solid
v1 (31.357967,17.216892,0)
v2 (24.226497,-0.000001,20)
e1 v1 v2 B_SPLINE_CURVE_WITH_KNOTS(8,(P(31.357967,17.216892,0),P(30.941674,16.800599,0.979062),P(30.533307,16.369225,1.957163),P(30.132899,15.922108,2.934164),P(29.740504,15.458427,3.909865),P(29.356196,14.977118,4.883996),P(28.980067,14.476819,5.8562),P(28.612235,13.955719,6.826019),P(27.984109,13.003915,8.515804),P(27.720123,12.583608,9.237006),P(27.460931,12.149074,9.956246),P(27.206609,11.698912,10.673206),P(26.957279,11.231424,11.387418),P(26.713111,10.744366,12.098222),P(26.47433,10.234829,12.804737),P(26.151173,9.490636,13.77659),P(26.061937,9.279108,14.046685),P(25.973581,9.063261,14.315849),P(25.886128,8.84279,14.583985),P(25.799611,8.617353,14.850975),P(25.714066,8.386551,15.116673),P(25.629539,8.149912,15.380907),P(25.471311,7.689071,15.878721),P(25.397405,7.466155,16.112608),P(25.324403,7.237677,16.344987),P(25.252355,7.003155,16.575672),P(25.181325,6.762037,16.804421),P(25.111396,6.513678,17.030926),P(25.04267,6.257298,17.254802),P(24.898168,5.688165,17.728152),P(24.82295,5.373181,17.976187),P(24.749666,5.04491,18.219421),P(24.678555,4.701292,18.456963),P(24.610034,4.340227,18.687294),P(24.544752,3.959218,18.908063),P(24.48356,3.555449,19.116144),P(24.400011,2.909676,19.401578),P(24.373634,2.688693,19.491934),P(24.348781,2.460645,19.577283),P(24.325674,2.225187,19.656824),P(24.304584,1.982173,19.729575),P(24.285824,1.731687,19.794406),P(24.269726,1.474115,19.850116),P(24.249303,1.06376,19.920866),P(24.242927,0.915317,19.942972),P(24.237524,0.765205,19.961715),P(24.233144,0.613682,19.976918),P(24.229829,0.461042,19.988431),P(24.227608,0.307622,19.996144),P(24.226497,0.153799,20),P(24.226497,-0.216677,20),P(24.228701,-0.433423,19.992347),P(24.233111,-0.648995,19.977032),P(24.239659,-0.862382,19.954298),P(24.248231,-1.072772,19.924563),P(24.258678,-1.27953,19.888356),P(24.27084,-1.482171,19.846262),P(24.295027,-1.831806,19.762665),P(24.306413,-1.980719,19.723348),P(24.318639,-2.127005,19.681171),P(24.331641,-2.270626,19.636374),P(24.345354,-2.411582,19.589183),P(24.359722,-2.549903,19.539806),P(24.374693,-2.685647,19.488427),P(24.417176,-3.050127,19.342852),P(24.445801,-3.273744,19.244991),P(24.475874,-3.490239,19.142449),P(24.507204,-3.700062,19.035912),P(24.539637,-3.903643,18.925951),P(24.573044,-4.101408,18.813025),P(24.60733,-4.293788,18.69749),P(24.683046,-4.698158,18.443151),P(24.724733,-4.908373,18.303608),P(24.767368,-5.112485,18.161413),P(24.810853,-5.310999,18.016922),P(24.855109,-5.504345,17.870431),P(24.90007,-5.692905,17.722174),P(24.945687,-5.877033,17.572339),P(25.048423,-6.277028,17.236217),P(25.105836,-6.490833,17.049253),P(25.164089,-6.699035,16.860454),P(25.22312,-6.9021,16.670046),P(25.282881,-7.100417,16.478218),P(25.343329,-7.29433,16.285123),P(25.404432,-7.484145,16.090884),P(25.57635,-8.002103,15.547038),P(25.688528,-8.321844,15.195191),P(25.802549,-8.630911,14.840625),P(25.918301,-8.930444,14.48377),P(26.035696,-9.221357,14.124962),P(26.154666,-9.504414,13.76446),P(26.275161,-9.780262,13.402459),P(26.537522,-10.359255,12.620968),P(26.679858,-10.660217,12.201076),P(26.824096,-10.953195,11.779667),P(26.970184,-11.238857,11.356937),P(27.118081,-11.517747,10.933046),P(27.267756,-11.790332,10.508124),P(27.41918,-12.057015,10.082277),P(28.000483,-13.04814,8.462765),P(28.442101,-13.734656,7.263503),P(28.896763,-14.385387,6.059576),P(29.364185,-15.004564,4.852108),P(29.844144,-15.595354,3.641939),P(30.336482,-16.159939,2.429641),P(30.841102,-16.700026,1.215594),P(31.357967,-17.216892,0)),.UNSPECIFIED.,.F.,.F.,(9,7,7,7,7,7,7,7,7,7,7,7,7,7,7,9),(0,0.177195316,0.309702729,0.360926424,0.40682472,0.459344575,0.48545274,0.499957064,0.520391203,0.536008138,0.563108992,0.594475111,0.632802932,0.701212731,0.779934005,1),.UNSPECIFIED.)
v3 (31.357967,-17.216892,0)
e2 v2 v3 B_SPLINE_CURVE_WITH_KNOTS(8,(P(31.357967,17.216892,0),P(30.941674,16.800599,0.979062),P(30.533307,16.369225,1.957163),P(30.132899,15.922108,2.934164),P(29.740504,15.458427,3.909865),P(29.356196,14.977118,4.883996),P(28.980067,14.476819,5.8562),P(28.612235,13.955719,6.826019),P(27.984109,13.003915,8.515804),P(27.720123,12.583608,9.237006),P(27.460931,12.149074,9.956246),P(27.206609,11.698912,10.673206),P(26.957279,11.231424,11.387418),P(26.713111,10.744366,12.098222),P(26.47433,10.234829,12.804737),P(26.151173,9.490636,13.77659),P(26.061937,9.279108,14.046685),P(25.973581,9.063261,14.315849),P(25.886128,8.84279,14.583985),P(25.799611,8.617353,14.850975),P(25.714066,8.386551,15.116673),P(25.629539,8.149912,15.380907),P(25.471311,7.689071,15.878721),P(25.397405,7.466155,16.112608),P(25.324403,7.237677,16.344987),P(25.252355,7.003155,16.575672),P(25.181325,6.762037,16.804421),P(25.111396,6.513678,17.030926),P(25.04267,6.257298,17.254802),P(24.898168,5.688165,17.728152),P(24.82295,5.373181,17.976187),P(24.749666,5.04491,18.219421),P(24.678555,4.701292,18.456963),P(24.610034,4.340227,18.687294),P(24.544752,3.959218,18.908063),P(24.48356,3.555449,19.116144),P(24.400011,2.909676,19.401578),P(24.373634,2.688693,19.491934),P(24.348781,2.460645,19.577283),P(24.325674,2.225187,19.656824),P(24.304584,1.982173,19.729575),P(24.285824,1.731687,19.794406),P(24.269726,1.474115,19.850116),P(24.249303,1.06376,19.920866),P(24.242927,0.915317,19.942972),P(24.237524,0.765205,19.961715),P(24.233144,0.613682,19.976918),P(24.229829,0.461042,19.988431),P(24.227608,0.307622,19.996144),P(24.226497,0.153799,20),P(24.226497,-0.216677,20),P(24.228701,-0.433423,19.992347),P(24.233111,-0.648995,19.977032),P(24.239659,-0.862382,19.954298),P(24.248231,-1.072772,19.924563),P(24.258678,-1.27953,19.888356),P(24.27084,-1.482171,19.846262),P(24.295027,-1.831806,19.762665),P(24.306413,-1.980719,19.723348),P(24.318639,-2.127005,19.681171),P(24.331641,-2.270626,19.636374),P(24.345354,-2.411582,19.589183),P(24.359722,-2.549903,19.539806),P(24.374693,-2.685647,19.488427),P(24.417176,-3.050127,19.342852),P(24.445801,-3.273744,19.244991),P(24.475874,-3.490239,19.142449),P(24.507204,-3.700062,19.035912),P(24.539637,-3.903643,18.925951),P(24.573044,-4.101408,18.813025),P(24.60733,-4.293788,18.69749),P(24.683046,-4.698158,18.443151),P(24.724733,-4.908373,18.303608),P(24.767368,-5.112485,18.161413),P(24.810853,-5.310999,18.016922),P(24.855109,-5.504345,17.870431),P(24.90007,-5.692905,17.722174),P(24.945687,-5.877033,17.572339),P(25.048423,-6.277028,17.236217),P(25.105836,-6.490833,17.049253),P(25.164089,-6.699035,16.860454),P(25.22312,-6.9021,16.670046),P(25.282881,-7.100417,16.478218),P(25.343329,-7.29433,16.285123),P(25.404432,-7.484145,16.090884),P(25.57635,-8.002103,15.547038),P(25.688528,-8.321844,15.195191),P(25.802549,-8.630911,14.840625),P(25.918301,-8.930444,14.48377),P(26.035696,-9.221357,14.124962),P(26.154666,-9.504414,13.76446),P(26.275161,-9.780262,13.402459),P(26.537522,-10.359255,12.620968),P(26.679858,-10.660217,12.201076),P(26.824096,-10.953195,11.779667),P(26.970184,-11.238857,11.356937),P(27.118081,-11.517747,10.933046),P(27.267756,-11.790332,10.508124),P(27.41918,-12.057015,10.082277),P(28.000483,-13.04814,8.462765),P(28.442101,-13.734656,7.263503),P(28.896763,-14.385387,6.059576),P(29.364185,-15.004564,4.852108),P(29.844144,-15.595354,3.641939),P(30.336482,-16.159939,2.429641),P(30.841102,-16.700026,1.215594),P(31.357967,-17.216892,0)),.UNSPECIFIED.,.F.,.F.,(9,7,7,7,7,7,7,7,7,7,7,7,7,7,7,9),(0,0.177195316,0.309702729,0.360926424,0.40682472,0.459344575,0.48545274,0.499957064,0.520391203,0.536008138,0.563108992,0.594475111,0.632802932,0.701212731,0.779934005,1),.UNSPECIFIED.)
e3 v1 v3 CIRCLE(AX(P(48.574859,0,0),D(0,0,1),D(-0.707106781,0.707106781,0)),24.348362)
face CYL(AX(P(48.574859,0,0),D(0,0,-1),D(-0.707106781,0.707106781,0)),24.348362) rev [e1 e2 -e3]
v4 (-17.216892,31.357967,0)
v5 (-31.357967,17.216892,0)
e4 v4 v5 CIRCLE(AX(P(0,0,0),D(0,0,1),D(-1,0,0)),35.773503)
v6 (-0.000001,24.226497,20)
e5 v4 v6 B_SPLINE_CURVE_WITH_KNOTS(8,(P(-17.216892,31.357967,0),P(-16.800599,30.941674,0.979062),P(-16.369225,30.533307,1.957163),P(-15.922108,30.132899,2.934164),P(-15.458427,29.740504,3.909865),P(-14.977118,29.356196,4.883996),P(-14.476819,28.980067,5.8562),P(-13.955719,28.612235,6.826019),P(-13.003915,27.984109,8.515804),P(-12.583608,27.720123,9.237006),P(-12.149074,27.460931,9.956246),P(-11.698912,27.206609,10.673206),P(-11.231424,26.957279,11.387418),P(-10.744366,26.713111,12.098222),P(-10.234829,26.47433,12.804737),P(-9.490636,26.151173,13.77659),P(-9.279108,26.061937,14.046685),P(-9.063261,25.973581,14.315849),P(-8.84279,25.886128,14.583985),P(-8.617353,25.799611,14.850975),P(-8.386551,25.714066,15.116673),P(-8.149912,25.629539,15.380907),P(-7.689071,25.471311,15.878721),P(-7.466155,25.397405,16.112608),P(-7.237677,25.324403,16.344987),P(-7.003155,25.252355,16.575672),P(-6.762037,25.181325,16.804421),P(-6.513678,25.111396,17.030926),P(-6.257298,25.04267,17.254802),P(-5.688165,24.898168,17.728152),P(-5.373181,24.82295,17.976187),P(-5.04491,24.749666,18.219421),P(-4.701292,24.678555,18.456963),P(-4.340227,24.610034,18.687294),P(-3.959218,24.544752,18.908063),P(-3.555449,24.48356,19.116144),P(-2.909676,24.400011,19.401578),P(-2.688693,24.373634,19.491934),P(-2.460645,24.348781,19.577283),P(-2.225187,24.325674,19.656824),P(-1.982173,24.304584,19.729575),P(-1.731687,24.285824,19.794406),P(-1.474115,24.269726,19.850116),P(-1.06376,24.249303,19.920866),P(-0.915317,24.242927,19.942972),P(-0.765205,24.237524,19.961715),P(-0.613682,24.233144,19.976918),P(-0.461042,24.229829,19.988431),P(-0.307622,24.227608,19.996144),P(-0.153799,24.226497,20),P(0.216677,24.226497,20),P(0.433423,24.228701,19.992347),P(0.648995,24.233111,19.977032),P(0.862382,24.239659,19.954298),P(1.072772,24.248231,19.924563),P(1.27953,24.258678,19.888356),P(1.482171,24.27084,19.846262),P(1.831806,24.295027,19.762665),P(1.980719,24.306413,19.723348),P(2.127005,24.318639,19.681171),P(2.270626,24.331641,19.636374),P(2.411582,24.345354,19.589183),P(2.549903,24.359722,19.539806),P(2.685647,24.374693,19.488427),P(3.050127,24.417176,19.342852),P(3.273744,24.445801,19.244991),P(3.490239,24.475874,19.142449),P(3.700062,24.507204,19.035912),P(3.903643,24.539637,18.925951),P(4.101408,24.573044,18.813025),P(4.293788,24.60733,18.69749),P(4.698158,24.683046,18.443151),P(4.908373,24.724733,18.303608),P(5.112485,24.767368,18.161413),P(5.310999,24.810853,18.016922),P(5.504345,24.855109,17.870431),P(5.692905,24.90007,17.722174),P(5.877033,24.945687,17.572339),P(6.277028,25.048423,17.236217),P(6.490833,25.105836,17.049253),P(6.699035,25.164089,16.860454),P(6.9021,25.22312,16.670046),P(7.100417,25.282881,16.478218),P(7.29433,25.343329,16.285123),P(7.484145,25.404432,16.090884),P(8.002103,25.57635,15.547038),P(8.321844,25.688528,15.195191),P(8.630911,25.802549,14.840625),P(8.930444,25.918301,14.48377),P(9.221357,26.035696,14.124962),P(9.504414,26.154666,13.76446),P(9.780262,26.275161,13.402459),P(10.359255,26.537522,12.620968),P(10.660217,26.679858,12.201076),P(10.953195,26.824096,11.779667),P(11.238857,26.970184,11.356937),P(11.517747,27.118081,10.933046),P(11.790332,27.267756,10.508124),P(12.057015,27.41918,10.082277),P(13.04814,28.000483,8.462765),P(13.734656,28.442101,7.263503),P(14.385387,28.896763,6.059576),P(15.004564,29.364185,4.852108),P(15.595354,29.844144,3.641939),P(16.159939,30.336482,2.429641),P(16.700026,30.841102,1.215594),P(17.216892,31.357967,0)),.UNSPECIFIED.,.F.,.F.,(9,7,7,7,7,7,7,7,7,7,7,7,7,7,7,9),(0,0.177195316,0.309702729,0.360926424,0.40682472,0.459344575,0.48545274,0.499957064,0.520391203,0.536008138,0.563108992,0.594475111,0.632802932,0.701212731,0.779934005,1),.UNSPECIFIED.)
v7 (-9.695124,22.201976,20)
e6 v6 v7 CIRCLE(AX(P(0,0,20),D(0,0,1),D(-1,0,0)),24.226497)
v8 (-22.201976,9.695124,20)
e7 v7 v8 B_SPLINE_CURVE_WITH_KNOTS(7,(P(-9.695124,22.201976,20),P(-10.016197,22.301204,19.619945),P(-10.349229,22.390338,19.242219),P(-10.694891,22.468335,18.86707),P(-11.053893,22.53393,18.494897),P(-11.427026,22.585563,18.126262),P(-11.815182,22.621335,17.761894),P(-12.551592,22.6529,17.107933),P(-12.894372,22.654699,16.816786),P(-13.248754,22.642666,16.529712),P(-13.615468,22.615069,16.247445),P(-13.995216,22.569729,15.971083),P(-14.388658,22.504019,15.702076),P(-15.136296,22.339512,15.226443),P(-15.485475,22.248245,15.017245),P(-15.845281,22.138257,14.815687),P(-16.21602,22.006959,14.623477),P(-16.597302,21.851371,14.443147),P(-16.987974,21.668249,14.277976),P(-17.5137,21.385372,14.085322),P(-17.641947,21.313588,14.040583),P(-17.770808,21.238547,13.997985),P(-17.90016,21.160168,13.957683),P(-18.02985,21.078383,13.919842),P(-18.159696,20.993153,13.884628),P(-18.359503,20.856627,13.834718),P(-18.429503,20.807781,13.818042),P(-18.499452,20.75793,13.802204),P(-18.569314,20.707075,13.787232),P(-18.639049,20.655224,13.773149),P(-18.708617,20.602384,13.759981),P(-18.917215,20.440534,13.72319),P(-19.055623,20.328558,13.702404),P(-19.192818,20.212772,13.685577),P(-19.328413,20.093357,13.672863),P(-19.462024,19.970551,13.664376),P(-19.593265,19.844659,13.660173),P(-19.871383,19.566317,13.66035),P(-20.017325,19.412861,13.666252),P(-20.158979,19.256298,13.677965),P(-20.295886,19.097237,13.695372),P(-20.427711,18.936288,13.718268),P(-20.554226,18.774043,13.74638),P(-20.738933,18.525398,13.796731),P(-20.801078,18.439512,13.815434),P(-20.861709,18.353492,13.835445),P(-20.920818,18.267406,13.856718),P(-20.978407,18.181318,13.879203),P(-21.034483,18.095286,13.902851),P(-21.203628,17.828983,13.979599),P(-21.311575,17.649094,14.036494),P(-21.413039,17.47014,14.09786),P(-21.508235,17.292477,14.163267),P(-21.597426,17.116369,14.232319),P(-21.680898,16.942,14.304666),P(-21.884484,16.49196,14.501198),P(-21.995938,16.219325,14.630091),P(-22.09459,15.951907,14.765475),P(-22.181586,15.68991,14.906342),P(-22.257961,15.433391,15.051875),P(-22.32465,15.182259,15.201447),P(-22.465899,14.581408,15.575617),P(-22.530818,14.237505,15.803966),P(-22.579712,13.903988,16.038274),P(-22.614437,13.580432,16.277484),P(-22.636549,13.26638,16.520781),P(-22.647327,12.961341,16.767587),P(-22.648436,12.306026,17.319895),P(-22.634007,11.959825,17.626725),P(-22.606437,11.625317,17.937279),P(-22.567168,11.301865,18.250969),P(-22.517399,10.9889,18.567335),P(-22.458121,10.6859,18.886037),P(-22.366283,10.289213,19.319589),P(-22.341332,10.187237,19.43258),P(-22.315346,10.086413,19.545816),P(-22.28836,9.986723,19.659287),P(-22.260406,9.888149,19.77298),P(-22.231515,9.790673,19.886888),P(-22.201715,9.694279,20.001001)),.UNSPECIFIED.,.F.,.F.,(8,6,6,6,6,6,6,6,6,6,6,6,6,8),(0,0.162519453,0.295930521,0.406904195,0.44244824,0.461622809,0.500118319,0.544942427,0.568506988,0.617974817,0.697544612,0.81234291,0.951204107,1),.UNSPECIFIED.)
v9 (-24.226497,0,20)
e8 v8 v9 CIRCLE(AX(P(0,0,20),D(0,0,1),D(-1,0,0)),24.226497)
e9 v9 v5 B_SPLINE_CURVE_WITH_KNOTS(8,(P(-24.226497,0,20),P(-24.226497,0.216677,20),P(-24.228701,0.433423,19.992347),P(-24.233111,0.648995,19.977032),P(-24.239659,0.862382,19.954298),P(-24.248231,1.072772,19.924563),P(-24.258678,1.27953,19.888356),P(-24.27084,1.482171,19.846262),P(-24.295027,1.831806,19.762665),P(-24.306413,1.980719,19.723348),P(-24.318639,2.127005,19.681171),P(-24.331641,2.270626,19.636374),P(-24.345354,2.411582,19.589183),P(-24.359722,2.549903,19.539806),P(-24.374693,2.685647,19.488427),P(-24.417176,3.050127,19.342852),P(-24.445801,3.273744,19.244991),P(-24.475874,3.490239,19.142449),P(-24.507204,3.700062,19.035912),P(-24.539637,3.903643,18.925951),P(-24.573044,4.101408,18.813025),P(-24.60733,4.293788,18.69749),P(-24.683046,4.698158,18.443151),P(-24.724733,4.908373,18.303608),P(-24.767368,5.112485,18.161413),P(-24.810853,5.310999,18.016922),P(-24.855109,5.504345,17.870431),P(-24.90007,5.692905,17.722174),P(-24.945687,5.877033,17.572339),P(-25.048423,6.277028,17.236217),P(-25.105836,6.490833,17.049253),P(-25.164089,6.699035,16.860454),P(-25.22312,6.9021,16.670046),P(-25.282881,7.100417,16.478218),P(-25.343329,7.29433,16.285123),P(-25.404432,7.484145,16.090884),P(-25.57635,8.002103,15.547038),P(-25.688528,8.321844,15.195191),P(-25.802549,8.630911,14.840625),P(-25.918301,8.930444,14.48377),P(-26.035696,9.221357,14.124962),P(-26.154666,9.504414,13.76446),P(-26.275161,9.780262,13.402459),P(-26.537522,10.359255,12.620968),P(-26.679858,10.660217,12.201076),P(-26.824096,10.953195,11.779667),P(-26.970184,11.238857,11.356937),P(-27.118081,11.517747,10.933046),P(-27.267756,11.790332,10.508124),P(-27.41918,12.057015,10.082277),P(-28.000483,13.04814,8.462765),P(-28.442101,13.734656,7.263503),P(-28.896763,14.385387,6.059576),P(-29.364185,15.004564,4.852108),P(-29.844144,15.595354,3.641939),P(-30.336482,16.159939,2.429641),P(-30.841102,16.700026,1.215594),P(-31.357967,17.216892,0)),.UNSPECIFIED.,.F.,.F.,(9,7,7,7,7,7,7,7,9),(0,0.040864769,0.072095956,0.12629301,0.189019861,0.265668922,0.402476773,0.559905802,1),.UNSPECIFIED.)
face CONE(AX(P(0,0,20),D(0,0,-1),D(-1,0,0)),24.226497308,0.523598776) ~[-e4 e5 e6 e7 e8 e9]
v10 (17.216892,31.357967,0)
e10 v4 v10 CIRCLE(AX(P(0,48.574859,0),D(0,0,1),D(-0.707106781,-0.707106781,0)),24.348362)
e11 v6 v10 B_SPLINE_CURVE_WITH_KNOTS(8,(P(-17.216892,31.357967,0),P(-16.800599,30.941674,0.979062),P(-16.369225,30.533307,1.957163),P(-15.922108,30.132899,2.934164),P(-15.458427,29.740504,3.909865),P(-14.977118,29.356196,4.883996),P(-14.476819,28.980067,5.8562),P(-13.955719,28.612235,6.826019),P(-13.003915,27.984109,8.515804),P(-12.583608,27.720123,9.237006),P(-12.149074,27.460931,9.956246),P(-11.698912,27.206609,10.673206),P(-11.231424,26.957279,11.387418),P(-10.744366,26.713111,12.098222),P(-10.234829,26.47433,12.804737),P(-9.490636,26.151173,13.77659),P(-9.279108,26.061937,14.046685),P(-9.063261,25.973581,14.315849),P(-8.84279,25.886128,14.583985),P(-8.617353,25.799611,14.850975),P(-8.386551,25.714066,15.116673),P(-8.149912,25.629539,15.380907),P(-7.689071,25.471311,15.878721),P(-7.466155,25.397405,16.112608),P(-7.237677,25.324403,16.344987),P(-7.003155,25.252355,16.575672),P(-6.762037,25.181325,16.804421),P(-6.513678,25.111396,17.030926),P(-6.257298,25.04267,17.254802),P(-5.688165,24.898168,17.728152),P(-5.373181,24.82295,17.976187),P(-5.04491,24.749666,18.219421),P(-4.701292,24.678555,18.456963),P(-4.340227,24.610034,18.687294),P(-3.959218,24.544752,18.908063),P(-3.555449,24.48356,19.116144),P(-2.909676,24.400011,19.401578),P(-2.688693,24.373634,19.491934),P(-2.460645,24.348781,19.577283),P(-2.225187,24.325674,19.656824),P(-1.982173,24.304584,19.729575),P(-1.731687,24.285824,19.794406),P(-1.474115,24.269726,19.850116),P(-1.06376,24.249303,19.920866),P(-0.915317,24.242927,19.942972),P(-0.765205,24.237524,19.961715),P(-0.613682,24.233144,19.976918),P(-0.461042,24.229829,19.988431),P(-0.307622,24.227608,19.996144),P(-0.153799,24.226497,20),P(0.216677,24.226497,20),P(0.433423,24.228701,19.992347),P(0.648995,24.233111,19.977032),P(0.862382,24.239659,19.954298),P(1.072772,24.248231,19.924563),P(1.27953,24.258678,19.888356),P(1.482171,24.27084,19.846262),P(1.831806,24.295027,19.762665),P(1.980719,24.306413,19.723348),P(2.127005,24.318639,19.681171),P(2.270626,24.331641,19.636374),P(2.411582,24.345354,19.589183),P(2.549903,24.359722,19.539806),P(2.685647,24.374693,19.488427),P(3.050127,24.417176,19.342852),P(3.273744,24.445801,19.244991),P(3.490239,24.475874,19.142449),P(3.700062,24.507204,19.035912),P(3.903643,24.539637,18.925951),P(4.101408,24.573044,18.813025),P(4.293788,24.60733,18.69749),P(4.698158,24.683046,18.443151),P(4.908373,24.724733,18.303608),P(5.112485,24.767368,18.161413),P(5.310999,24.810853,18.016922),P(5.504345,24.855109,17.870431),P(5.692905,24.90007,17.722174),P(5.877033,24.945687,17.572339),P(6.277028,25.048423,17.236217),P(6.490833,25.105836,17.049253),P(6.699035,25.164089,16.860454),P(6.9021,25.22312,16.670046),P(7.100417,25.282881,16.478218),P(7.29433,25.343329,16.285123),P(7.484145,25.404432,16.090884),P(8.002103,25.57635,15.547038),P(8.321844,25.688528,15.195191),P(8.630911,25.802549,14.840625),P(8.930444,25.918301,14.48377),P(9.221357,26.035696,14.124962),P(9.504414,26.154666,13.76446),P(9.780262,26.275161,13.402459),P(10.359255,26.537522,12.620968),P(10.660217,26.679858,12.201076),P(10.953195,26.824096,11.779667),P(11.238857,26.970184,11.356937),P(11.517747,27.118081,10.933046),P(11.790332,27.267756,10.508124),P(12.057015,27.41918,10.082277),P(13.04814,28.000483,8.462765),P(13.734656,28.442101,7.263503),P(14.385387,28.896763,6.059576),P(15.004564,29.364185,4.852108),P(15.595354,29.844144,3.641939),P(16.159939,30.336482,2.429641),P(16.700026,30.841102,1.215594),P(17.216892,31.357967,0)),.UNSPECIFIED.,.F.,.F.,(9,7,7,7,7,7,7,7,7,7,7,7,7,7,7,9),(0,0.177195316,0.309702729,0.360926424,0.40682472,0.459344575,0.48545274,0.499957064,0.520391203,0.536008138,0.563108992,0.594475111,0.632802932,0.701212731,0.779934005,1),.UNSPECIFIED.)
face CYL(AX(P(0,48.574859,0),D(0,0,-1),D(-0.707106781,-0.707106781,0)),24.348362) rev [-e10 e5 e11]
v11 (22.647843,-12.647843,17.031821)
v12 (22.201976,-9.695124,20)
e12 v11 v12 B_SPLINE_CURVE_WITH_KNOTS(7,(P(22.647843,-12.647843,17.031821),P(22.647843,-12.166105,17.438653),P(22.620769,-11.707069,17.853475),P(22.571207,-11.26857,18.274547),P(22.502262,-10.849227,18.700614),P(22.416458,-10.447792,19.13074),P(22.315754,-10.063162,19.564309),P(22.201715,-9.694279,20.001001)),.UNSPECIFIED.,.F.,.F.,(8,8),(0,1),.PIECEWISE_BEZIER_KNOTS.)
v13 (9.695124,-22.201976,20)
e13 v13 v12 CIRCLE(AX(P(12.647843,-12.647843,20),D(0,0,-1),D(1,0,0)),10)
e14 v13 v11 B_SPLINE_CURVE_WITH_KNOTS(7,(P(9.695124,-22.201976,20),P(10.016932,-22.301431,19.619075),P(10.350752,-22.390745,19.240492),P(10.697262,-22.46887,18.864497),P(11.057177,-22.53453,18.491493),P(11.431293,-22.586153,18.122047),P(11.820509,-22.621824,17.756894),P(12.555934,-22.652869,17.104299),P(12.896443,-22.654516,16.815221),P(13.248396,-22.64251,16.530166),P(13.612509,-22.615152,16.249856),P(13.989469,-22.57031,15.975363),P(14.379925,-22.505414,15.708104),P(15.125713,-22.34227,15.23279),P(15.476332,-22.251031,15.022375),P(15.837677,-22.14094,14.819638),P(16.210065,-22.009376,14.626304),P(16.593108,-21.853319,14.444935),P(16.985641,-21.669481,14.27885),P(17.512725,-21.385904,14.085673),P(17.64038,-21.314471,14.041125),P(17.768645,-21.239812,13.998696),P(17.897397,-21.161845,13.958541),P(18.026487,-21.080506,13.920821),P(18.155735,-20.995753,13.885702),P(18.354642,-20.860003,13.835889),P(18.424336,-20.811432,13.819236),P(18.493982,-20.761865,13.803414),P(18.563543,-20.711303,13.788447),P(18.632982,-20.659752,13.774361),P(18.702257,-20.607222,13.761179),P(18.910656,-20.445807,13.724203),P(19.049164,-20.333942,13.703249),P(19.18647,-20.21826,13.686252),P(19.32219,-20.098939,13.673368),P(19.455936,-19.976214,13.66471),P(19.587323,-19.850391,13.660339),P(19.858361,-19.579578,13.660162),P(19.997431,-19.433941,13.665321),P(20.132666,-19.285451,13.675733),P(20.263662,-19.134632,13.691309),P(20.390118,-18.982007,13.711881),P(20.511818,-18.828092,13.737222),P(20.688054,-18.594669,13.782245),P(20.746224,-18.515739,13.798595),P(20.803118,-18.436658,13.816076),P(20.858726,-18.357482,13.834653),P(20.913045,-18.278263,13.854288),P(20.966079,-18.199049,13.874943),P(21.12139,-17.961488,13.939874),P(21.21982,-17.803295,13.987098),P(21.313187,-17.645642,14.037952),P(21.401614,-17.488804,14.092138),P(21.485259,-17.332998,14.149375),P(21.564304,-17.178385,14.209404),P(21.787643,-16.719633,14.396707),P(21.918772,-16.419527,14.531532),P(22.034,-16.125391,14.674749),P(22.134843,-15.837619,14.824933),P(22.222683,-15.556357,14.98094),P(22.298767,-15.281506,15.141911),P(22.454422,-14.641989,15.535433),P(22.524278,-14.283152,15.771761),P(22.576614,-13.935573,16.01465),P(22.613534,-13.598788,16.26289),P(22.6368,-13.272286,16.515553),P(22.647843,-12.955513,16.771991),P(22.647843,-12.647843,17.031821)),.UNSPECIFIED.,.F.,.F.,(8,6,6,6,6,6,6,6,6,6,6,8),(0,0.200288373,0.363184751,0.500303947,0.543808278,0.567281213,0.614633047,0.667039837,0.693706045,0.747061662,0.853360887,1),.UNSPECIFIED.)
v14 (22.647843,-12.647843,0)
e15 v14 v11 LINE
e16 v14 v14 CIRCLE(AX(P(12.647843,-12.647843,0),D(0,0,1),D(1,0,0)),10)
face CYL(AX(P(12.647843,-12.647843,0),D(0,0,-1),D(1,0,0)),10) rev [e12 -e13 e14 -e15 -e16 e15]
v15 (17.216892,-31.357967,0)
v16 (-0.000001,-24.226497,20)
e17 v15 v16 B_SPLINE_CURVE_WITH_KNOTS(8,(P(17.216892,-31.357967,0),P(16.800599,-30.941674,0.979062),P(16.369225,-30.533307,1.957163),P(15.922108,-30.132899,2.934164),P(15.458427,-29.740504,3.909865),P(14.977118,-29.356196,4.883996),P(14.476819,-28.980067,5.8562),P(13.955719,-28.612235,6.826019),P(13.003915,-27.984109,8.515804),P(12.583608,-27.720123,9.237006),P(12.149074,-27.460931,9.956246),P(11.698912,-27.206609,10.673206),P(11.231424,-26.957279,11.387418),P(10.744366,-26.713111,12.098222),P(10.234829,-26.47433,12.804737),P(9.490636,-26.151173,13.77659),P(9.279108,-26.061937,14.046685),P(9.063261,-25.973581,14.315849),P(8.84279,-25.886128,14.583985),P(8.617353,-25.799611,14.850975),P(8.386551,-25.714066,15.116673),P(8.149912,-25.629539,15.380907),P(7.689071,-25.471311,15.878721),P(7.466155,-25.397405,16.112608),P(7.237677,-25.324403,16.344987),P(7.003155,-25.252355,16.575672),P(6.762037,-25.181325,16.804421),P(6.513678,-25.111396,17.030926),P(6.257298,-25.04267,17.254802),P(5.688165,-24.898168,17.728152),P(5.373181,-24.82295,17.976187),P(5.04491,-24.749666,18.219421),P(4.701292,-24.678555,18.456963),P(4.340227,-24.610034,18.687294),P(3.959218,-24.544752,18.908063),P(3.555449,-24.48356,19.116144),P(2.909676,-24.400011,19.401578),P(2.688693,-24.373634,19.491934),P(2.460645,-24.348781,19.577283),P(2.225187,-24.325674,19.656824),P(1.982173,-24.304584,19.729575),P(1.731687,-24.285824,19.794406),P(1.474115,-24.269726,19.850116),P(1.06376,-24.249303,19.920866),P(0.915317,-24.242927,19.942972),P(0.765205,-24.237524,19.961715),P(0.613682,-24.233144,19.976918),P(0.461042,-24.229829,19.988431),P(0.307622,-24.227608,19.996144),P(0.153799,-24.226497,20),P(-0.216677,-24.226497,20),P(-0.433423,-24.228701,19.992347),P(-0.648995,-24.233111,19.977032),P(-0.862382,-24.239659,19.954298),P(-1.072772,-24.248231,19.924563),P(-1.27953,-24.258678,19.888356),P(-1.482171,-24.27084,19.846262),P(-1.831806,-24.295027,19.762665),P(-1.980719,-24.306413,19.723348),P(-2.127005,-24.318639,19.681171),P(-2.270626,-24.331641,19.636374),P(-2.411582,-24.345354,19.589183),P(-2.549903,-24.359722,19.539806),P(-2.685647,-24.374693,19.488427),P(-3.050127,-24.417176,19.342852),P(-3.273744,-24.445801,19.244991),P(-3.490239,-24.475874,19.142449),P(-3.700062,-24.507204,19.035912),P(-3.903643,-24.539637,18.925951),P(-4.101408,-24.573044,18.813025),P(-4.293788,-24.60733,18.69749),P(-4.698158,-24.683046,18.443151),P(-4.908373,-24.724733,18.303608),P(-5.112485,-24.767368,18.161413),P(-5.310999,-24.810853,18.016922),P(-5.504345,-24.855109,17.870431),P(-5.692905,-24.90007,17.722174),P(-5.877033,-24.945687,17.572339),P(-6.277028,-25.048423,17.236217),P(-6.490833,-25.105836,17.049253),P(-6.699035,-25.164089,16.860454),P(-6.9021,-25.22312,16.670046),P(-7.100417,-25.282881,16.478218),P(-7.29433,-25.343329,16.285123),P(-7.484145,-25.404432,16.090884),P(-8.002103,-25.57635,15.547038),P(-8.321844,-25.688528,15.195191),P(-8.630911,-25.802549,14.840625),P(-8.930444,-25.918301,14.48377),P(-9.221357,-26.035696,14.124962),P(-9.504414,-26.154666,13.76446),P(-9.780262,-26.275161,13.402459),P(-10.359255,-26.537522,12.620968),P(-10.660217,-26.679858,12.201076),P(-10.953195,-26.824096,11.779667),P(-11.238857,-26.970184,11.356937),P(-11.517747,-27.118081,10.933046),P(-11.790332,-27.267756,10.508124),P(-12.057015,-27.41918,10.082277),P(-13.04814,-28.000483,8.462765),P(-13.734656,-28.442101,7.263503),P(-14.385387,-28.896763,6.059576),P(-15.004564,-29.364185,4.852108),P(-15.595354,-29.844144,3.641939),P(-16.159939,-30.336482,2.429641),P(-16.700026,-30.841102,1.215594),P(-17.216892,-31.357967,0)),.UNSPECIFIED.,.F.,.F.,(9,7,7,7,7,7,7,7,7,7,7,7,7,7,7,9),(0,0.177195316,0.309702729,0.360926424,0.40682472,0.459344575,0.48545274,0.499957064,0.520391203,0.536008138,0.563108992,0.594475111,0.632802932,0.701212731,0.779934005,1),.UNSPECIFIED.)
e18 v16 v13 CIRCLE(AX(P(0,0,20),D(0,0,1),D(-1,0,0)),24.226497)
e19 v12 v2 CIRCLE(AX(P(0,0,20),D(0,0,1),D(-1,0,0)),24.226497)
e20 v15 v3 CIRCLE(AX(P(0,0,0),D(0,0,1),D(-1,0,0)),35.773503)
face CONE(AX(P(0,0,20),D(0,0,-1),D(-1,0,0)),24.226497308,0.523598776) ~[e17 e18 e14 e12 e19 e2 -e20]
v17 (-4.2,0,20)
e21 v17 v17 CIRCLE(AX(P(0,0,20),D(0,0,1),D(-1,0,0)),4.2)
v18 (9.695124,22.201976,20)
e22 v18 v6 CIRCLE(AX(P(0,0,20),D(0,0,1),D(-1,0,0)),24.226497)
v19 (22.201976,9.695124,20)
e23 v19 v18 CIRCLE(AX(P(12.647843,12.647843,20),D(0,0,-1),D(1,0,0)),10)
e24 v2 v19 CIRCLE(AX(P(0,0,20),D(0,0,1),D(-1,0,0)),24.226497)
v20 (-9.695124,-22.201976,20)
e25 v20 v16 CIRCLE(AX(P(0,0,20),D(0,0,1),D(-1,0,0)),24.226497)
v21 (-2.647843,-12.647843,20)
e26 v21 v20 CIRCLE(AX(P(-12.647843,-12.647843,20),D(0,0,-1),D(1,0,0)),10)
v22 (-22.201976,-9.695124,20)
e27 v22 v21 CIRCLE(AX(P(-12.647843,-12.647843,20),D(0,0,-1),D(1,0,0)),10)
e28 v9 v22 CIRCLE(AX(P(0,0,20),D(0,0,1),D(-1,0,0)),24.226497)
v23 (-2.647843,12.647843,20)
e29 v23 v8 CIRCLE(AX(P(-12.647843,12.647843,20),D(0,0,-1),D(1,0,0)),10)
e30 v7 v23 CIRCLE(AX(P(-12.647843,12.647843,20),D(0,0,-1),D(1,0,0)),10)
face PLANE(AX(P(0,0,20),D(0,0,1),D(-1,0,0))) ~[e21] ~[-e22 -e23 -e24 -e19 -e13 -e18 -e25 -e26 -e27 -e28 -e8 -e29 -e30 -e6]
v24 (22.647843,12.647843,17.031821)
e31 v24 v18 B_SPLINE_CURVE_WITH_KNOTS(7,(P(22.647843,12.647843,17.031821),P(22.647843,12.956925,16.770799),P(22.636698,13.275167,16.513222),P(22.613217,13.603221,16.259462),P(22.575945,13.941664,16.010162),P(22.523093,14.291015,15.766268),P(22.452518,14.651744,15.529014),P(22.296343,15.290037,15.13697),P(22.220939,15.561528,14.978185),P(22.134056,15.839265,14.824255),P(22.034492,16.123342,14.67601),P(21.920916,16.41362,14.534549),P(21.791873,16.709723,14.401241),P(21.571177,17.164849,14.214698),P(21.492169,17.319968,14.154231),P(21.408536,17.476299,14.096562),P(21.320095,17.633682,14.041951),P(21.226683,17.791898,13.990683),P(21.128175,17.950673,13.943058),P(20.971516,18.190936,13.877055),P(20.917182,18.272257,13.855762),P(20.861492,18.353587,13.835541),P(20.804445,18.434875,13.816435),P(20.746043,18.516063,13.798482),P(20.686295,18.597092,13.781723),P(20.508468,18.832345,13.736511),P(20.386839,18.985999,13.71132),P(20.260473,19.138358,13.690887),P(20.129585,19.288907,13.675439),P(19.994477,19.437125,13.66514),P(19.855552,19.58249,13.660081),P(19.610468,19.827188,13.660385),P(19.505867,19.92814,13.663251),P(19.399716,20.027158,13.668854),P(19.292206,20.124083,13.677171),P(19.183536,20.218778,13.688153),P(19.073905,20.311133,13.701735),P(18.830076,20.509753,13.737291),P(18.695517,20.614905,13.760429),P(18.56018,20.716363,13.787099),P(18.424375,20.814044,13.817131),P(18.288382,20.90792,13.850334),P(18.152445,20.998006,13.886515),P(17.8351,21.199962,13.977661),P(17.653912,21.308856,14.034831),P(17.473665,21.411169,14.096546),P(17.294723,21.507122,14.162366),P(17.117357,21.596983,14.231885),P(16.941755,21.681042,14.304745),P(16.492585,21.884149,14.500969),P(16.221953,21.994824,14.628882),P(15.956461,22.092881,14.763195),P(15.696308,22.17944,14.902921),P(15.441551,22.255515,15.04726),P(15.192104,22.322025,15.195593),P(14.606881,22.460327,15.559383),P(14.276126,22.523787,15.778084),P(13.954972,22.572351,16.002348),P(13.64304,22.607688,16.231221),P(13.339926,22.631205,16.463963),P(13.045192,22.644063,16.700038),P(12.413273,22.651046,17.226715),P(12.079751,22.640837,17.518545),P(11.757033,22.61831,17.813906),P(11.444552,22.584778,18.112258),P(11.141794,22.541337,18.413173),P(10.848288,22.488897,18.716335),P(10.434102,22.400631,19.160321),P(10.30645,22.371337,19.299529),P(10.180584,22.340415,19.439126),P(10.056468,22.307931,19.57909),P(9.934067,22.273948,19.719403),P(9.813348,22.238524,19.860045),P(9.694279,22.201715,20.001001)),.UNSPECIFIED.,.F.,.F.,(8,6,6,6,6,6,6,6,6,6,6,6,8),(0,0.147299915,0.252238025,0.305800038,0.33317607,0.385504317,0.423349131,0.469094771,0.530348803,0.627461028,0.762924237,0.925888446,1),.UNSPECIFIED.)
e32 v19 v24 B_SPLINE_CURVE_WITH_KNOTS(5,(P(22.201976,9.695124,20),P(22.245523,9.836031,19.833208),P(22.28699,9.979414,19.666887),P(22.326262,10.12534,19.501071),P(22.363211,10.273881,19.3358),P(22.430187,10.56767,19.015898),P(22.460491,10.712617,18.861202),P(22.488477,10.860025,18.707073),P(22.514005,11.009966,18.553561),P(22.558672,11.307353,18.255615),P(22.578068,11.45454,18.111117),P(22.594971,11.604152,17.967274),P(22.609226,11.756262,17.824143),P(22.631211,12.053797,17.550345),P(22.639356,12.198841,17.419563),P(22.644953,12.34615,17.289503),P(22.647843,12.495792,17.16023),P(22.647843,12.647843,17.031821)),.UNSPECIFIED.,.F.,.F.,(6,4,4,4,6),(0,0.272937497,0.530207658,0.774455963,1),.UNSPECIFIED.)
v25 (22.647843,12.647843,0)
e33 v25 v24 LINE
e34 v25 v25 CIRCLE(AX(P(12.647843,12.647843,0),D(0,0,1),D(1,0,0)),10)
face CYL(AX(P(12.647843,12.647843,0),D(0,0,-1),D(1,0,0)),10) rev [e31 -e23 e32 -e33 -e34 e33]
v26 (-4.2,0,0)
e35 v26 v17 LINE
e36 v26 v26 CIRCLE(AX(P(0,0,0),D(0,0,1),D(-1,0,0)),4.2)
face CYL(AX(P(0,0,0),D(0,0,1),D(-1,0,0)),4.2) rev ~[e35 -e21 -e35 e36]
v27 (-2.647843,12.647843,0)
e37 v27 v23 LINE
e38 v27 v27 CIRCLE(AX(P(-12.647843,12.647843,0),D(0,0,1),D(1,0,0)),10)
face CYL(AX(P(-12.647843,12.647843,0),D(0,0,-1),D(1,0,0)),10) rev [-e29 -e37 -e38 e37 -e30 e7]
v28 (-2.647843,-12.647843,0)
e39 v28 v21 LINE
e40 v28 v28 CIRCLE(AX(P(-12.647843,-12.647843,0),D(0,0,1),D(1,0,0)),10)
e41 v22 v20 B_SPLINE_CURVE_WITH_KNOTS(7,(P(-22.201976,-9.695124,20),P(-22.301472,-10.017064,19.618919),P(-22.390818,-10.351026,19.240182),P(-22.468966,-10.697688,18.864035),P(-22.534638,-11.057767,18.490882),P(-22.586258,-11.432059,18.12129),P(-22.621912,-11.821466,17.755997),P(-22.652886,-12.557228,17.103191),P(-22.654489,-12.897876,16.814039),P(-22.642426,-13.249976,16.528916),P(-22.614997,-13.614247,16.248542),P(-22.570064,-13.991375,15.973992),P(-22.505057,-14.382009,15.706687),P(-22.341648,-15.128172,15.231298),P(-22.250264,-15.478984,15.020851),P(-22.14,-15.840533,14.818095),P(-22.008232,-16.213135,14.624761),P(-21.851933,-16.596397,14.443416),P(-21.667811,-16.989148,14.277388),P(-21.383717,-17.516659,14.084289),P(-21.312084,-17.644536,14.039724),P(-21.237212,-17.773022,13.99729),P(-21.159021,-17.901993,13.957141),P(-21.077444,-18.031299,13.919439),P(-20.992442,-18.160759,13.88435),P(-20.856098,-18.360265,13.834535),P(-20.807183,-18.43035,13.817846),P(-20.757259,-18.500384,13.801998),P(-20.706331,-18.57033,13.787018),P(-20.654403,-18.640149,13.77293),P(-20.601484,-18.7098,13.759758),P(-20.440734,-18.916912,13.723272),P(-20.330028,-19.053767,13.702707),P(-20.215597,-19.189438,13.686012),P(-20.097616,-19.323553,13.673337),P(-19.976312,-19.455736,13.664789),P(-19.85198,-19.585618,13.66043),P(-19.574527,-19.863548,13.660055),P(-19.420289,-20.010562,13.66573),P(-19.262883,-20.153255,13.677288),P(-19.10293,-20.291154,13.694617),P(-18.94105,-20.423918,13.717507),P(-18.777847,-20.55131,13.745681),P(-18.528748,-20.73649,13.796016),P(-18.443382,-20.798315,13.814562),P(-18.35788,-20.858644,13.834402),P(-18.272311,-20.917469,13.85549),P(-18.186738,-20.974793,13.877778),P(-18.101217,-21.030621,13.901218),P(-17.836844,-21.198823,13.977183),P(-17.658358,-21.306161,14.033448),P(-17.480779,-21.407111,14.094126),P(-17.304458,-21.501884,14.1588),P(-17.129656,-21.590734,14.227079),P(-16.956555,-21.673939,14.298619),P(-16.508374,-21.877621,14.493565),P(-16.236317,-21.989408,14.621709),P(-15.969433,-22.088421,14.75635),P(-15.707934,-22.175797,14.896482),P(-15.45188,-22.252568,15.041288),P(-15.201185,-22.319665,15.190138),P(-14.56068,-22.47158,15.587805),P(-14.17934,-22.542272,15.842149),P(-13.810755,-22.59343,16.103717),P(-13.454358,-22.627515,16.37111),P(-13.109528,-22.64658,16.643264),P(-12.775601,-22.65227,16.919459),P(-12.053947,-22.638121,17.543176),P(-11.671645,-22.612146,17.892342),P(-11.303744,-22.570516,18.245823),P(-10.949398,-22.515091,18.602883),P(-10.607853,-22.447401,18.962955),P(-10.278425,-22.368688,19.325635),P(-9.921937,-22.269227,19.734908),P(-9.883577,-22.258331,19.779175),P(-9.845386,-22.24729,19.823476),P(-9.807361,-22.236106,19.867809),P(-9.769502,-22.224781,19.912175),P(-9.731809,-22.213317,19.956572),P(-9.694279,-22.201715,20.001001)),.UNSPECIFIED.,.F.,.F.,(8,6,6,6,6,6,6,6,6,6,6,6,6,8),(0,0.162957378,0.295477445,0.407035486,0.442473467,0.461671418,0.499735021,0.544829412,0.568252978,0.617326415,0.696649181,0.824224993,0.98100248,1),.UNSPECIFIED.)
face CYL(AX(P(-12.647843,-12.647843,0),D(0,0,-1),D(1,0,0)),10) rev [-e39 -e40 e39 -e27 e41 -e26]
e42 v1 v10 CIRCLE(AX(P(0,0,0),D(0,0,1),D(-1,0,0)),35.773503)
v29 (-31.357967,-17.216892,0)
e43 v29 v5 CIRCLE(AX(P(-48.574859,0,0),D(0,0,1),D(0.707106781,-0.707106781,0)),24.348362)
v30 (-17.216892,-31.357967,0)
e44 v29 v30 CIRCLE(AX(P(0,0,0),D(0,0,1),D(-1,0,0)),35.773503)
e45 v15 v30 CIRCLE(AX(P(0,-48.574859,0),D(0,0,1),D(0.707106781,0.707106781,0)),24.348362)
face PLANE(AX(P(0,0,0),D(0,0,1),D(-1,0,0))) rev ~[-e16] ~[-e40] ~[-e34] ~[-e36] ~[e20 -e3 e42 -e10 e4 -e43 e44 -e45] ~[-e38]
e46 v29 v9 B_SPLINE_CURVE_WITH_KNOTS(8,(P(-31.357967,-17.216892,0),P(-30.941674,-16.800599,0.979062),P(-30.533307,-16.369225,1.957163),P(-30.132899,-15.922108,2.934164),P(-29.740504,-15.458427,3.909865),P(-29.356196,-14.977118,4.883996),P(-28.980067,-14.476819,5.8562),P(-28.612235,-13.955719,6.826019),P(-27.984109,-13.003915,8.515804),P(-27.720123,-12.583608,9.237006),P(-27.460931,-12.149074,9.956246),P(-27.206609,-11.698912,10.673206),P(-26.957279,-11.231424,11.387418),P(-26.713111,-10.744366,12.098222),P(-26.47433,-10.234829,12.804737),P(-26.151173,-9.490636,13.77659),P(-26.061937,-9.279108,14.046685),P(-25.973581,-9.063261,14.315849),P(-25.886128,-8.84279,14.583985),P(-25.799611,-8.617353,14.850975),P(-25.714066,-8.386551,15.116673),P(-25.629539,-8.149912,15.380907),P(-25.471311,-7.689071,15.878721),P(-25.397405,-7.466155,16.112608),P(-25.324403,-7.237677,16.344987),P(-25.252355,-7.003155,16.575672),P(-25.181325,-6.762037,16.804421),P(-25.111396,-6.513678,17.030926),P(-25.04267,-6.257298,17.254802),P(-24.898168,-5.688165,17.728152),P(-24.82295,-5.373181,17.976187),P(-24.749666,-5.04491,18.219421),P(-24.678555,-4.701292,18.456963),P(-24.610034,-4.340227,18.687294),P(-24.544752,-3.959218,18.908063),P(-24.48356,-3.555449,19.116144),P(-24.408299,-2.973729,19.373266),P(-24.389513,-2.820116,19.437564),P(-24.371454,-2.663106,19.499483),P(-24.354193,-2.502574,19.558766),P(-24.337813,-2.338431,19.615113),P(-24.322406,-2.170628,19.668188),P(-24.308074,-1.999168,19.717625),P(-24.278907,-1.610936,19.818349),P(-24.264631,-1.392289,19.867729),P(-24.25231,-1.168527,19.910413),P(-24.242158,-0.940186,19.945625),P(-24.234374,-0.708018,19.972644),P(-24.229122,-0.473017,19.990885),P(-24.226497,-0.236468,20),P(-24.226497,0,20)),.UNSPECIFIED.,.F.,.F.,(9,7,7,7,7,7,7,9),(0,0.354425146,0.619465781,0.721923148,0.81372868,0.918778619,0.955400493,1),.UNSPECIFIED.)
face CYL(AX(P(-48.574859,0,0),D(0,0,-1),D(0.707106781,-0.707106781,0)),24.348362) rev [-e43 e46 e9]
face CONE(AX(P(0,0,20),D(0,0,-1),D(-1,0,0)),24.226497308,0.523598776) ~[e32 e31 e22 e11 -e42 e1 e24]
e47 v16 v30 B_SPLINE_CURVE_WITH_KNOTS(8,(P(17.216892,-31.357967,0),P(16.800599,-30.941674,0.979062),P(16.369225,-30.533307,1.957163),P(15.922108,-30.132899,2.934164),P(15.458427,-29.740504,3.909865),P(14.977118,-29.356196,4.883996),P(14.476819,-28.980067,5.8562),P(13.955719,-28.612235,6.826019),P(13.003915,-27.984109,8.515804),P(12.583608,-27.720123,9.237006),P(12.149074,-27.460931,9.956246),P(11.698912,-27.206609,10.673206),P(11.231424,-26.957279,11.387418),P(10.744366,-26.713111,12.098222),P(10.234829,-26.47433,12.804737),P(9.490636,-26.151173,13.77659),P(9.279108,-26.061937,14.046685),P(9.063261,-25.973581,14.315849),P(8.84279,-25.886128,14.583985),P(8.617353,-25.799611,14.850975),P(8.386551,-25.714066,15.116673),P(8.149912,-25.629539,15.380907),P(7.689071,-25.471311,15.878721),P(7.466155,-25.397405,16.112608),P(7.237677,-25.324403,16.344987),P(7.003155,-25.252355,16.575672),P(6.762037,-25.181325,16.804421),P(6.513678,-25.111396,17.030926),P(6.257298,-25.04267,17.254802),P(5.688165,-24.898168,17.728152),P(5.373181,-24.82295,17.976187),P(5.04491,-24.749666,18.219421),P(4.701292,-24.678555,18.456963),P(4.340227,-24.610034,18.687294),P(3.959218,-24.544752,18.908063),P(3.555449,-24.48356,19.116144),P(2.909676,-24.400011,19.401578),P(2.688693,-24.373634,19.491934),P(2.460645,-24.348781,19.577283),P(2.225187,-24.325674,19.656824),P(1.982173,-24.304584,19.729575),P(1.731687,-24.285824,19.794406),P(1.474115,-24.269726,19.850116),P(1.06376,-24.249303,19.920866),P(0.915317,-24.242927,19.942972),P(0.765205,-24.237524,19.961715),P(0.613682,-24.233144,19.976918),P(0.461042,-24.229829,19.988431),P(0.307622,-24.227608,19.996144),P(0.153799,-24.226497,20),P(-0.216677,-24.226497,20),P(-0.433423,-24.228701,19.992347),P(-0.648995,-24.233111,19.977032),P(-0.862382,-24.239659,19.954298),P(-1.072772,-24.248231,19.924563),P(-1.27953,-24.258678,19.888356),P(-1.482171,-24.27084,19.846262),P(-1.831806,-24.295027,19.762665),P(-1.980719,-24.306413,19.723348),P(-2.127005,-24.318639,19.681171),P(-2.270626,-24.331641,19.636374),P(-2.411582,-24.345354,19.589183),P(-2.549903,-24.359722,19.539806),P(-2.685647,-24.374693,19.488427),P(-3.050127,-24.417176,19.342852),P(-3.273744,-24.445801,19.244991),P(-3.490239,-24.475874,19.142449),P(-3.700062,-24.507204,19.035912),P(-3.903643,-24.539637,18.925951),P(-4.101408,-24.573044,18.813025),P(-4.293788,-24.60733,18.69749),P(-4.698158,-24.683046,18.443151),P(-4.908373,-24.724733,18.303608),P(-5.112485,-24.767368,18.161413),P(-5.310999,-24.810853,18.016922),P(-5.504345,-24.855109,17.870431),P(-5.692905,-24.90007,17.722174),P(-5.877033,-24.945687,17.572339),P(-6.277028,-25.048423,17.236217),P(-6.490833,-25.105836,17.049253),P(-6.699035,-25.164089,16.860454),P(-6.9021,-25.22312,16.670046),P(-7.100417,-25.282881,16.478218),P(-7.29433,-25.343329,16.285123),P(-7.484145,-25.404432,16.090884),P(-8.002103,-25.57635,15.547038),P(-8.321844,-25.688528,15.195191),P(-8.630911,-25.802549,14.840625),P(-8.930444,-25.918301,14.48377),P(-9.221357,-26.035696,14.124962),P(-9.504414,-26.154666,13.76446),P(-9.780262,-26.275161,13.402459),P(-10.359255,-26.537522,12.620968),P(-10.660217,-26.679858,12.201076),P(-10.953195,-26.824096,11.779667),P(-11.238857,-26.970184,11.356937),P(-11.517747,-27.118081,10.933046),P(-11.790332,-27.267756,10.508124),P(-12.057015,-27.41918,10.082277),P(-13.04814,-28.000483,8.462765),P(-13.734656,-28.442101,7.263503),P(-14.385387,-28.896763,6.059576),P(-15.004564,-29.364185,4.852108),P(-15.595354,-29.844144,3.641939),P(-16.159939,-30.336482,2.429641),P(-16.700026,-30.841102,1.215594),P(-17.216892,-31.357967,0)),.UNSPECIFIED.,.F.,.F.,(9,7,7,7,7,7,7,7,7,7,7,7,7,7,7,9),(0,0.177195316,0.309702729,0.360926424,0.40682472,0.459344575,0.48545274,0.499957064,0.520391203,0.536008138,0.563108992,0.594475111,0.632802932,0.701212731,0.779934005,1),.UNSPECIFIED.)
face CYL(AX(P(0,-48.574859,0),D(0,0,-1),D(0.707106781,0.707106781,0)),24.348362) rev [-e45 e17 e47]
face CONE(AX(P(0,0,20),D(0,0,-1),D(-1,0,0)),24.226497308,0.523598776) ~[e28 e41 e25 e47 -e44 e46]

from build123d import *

# Parameters (mm, degrees)
F3_DEPTH = 20.001
F4_R     = 10
F5_DEPTH = 20.0010001


with BuildPart() as f1:
    # F0 (on Front) → F1 (revolve)
    with BuildSketch(Plane.XZ):
        Polygon((-4.2, 0), (-4.2, 20), (-24.2264973081, 20), (-35.7735026919, 0), align=None)
    revolve(axis=Axis((0, 0, 10), (0, 0, 1)))

    # F2 (on Top) → F3 (cut, through all)
    with BuildSketch(Plane.XY):
        with BuildLine():
            ThreePointArc((-17.2168920075, 31.3579674795), (0, 24.2264973081), (17.2168920075, 31.3579674795))
            ThreePointArc((17.2168920075, 31.3579674795), (0, 35.7735026919), (-17.2168920075, 31.3579674795))
        make_face()
        with BuildLine():
            ThreePointArc((31.3579674795, -17.2168920075), (34.6520405524, -8.887045651), (35.7735026919, 0))
            ThreePointArc((35.7735026919, 0), (34.6520405524, 8.887045651), (31.3579674795, 17.2168920075))
            ThreePointArc((31.3579674795, 17.2168920075), (24.2264973081, 0), (31.3579674795, -17.2168920075))
        make_face()
        with BuildLine():
            ThreePointArc((-17.2168920075, -31.3579674795), (0, -35.7735026919), (17.2168920075, -31.3579674795))
            ThreePointArc((17.2168920075, -31.3579674795), (0, -24.2264973081), (-17.2168920075, -31.3579674795))
        make_face()
        with BuildLine():
            ThreePointArc((-31.3579674795, -17.2168920075), (-24.2264973081, 0), (-31.3579674795, 17.2168920075))
            ThreePointArc((-31.3579674795, 17.2168920075), (-35.7735026919, 0), (-31.3579674795, -17.2168920075))
        make_face()
    extrude(amount=F3_DEPTH, mode=Mode.SUBTRACT)

    # F4 (on Top) → F5 (cut, through all)
    with BuildSketch(Plane.XY):
        with Locations((-12.6478431701, -12.6478431701)):
            Circle(F4_R)
        with Locations((12.6478431701, -12.6478431701)):
            Circle(F4_R)
        with Locations((12.6478431701, 12.6478431701)):
            Circle(F4_R)
        with Locations((-12.6478431701, 12.6478431701)):
            Circle(F4_R)
    extrude(amount=F5_DEPTH, mode=Mode.SUBTRACT)


solid = f1.part
